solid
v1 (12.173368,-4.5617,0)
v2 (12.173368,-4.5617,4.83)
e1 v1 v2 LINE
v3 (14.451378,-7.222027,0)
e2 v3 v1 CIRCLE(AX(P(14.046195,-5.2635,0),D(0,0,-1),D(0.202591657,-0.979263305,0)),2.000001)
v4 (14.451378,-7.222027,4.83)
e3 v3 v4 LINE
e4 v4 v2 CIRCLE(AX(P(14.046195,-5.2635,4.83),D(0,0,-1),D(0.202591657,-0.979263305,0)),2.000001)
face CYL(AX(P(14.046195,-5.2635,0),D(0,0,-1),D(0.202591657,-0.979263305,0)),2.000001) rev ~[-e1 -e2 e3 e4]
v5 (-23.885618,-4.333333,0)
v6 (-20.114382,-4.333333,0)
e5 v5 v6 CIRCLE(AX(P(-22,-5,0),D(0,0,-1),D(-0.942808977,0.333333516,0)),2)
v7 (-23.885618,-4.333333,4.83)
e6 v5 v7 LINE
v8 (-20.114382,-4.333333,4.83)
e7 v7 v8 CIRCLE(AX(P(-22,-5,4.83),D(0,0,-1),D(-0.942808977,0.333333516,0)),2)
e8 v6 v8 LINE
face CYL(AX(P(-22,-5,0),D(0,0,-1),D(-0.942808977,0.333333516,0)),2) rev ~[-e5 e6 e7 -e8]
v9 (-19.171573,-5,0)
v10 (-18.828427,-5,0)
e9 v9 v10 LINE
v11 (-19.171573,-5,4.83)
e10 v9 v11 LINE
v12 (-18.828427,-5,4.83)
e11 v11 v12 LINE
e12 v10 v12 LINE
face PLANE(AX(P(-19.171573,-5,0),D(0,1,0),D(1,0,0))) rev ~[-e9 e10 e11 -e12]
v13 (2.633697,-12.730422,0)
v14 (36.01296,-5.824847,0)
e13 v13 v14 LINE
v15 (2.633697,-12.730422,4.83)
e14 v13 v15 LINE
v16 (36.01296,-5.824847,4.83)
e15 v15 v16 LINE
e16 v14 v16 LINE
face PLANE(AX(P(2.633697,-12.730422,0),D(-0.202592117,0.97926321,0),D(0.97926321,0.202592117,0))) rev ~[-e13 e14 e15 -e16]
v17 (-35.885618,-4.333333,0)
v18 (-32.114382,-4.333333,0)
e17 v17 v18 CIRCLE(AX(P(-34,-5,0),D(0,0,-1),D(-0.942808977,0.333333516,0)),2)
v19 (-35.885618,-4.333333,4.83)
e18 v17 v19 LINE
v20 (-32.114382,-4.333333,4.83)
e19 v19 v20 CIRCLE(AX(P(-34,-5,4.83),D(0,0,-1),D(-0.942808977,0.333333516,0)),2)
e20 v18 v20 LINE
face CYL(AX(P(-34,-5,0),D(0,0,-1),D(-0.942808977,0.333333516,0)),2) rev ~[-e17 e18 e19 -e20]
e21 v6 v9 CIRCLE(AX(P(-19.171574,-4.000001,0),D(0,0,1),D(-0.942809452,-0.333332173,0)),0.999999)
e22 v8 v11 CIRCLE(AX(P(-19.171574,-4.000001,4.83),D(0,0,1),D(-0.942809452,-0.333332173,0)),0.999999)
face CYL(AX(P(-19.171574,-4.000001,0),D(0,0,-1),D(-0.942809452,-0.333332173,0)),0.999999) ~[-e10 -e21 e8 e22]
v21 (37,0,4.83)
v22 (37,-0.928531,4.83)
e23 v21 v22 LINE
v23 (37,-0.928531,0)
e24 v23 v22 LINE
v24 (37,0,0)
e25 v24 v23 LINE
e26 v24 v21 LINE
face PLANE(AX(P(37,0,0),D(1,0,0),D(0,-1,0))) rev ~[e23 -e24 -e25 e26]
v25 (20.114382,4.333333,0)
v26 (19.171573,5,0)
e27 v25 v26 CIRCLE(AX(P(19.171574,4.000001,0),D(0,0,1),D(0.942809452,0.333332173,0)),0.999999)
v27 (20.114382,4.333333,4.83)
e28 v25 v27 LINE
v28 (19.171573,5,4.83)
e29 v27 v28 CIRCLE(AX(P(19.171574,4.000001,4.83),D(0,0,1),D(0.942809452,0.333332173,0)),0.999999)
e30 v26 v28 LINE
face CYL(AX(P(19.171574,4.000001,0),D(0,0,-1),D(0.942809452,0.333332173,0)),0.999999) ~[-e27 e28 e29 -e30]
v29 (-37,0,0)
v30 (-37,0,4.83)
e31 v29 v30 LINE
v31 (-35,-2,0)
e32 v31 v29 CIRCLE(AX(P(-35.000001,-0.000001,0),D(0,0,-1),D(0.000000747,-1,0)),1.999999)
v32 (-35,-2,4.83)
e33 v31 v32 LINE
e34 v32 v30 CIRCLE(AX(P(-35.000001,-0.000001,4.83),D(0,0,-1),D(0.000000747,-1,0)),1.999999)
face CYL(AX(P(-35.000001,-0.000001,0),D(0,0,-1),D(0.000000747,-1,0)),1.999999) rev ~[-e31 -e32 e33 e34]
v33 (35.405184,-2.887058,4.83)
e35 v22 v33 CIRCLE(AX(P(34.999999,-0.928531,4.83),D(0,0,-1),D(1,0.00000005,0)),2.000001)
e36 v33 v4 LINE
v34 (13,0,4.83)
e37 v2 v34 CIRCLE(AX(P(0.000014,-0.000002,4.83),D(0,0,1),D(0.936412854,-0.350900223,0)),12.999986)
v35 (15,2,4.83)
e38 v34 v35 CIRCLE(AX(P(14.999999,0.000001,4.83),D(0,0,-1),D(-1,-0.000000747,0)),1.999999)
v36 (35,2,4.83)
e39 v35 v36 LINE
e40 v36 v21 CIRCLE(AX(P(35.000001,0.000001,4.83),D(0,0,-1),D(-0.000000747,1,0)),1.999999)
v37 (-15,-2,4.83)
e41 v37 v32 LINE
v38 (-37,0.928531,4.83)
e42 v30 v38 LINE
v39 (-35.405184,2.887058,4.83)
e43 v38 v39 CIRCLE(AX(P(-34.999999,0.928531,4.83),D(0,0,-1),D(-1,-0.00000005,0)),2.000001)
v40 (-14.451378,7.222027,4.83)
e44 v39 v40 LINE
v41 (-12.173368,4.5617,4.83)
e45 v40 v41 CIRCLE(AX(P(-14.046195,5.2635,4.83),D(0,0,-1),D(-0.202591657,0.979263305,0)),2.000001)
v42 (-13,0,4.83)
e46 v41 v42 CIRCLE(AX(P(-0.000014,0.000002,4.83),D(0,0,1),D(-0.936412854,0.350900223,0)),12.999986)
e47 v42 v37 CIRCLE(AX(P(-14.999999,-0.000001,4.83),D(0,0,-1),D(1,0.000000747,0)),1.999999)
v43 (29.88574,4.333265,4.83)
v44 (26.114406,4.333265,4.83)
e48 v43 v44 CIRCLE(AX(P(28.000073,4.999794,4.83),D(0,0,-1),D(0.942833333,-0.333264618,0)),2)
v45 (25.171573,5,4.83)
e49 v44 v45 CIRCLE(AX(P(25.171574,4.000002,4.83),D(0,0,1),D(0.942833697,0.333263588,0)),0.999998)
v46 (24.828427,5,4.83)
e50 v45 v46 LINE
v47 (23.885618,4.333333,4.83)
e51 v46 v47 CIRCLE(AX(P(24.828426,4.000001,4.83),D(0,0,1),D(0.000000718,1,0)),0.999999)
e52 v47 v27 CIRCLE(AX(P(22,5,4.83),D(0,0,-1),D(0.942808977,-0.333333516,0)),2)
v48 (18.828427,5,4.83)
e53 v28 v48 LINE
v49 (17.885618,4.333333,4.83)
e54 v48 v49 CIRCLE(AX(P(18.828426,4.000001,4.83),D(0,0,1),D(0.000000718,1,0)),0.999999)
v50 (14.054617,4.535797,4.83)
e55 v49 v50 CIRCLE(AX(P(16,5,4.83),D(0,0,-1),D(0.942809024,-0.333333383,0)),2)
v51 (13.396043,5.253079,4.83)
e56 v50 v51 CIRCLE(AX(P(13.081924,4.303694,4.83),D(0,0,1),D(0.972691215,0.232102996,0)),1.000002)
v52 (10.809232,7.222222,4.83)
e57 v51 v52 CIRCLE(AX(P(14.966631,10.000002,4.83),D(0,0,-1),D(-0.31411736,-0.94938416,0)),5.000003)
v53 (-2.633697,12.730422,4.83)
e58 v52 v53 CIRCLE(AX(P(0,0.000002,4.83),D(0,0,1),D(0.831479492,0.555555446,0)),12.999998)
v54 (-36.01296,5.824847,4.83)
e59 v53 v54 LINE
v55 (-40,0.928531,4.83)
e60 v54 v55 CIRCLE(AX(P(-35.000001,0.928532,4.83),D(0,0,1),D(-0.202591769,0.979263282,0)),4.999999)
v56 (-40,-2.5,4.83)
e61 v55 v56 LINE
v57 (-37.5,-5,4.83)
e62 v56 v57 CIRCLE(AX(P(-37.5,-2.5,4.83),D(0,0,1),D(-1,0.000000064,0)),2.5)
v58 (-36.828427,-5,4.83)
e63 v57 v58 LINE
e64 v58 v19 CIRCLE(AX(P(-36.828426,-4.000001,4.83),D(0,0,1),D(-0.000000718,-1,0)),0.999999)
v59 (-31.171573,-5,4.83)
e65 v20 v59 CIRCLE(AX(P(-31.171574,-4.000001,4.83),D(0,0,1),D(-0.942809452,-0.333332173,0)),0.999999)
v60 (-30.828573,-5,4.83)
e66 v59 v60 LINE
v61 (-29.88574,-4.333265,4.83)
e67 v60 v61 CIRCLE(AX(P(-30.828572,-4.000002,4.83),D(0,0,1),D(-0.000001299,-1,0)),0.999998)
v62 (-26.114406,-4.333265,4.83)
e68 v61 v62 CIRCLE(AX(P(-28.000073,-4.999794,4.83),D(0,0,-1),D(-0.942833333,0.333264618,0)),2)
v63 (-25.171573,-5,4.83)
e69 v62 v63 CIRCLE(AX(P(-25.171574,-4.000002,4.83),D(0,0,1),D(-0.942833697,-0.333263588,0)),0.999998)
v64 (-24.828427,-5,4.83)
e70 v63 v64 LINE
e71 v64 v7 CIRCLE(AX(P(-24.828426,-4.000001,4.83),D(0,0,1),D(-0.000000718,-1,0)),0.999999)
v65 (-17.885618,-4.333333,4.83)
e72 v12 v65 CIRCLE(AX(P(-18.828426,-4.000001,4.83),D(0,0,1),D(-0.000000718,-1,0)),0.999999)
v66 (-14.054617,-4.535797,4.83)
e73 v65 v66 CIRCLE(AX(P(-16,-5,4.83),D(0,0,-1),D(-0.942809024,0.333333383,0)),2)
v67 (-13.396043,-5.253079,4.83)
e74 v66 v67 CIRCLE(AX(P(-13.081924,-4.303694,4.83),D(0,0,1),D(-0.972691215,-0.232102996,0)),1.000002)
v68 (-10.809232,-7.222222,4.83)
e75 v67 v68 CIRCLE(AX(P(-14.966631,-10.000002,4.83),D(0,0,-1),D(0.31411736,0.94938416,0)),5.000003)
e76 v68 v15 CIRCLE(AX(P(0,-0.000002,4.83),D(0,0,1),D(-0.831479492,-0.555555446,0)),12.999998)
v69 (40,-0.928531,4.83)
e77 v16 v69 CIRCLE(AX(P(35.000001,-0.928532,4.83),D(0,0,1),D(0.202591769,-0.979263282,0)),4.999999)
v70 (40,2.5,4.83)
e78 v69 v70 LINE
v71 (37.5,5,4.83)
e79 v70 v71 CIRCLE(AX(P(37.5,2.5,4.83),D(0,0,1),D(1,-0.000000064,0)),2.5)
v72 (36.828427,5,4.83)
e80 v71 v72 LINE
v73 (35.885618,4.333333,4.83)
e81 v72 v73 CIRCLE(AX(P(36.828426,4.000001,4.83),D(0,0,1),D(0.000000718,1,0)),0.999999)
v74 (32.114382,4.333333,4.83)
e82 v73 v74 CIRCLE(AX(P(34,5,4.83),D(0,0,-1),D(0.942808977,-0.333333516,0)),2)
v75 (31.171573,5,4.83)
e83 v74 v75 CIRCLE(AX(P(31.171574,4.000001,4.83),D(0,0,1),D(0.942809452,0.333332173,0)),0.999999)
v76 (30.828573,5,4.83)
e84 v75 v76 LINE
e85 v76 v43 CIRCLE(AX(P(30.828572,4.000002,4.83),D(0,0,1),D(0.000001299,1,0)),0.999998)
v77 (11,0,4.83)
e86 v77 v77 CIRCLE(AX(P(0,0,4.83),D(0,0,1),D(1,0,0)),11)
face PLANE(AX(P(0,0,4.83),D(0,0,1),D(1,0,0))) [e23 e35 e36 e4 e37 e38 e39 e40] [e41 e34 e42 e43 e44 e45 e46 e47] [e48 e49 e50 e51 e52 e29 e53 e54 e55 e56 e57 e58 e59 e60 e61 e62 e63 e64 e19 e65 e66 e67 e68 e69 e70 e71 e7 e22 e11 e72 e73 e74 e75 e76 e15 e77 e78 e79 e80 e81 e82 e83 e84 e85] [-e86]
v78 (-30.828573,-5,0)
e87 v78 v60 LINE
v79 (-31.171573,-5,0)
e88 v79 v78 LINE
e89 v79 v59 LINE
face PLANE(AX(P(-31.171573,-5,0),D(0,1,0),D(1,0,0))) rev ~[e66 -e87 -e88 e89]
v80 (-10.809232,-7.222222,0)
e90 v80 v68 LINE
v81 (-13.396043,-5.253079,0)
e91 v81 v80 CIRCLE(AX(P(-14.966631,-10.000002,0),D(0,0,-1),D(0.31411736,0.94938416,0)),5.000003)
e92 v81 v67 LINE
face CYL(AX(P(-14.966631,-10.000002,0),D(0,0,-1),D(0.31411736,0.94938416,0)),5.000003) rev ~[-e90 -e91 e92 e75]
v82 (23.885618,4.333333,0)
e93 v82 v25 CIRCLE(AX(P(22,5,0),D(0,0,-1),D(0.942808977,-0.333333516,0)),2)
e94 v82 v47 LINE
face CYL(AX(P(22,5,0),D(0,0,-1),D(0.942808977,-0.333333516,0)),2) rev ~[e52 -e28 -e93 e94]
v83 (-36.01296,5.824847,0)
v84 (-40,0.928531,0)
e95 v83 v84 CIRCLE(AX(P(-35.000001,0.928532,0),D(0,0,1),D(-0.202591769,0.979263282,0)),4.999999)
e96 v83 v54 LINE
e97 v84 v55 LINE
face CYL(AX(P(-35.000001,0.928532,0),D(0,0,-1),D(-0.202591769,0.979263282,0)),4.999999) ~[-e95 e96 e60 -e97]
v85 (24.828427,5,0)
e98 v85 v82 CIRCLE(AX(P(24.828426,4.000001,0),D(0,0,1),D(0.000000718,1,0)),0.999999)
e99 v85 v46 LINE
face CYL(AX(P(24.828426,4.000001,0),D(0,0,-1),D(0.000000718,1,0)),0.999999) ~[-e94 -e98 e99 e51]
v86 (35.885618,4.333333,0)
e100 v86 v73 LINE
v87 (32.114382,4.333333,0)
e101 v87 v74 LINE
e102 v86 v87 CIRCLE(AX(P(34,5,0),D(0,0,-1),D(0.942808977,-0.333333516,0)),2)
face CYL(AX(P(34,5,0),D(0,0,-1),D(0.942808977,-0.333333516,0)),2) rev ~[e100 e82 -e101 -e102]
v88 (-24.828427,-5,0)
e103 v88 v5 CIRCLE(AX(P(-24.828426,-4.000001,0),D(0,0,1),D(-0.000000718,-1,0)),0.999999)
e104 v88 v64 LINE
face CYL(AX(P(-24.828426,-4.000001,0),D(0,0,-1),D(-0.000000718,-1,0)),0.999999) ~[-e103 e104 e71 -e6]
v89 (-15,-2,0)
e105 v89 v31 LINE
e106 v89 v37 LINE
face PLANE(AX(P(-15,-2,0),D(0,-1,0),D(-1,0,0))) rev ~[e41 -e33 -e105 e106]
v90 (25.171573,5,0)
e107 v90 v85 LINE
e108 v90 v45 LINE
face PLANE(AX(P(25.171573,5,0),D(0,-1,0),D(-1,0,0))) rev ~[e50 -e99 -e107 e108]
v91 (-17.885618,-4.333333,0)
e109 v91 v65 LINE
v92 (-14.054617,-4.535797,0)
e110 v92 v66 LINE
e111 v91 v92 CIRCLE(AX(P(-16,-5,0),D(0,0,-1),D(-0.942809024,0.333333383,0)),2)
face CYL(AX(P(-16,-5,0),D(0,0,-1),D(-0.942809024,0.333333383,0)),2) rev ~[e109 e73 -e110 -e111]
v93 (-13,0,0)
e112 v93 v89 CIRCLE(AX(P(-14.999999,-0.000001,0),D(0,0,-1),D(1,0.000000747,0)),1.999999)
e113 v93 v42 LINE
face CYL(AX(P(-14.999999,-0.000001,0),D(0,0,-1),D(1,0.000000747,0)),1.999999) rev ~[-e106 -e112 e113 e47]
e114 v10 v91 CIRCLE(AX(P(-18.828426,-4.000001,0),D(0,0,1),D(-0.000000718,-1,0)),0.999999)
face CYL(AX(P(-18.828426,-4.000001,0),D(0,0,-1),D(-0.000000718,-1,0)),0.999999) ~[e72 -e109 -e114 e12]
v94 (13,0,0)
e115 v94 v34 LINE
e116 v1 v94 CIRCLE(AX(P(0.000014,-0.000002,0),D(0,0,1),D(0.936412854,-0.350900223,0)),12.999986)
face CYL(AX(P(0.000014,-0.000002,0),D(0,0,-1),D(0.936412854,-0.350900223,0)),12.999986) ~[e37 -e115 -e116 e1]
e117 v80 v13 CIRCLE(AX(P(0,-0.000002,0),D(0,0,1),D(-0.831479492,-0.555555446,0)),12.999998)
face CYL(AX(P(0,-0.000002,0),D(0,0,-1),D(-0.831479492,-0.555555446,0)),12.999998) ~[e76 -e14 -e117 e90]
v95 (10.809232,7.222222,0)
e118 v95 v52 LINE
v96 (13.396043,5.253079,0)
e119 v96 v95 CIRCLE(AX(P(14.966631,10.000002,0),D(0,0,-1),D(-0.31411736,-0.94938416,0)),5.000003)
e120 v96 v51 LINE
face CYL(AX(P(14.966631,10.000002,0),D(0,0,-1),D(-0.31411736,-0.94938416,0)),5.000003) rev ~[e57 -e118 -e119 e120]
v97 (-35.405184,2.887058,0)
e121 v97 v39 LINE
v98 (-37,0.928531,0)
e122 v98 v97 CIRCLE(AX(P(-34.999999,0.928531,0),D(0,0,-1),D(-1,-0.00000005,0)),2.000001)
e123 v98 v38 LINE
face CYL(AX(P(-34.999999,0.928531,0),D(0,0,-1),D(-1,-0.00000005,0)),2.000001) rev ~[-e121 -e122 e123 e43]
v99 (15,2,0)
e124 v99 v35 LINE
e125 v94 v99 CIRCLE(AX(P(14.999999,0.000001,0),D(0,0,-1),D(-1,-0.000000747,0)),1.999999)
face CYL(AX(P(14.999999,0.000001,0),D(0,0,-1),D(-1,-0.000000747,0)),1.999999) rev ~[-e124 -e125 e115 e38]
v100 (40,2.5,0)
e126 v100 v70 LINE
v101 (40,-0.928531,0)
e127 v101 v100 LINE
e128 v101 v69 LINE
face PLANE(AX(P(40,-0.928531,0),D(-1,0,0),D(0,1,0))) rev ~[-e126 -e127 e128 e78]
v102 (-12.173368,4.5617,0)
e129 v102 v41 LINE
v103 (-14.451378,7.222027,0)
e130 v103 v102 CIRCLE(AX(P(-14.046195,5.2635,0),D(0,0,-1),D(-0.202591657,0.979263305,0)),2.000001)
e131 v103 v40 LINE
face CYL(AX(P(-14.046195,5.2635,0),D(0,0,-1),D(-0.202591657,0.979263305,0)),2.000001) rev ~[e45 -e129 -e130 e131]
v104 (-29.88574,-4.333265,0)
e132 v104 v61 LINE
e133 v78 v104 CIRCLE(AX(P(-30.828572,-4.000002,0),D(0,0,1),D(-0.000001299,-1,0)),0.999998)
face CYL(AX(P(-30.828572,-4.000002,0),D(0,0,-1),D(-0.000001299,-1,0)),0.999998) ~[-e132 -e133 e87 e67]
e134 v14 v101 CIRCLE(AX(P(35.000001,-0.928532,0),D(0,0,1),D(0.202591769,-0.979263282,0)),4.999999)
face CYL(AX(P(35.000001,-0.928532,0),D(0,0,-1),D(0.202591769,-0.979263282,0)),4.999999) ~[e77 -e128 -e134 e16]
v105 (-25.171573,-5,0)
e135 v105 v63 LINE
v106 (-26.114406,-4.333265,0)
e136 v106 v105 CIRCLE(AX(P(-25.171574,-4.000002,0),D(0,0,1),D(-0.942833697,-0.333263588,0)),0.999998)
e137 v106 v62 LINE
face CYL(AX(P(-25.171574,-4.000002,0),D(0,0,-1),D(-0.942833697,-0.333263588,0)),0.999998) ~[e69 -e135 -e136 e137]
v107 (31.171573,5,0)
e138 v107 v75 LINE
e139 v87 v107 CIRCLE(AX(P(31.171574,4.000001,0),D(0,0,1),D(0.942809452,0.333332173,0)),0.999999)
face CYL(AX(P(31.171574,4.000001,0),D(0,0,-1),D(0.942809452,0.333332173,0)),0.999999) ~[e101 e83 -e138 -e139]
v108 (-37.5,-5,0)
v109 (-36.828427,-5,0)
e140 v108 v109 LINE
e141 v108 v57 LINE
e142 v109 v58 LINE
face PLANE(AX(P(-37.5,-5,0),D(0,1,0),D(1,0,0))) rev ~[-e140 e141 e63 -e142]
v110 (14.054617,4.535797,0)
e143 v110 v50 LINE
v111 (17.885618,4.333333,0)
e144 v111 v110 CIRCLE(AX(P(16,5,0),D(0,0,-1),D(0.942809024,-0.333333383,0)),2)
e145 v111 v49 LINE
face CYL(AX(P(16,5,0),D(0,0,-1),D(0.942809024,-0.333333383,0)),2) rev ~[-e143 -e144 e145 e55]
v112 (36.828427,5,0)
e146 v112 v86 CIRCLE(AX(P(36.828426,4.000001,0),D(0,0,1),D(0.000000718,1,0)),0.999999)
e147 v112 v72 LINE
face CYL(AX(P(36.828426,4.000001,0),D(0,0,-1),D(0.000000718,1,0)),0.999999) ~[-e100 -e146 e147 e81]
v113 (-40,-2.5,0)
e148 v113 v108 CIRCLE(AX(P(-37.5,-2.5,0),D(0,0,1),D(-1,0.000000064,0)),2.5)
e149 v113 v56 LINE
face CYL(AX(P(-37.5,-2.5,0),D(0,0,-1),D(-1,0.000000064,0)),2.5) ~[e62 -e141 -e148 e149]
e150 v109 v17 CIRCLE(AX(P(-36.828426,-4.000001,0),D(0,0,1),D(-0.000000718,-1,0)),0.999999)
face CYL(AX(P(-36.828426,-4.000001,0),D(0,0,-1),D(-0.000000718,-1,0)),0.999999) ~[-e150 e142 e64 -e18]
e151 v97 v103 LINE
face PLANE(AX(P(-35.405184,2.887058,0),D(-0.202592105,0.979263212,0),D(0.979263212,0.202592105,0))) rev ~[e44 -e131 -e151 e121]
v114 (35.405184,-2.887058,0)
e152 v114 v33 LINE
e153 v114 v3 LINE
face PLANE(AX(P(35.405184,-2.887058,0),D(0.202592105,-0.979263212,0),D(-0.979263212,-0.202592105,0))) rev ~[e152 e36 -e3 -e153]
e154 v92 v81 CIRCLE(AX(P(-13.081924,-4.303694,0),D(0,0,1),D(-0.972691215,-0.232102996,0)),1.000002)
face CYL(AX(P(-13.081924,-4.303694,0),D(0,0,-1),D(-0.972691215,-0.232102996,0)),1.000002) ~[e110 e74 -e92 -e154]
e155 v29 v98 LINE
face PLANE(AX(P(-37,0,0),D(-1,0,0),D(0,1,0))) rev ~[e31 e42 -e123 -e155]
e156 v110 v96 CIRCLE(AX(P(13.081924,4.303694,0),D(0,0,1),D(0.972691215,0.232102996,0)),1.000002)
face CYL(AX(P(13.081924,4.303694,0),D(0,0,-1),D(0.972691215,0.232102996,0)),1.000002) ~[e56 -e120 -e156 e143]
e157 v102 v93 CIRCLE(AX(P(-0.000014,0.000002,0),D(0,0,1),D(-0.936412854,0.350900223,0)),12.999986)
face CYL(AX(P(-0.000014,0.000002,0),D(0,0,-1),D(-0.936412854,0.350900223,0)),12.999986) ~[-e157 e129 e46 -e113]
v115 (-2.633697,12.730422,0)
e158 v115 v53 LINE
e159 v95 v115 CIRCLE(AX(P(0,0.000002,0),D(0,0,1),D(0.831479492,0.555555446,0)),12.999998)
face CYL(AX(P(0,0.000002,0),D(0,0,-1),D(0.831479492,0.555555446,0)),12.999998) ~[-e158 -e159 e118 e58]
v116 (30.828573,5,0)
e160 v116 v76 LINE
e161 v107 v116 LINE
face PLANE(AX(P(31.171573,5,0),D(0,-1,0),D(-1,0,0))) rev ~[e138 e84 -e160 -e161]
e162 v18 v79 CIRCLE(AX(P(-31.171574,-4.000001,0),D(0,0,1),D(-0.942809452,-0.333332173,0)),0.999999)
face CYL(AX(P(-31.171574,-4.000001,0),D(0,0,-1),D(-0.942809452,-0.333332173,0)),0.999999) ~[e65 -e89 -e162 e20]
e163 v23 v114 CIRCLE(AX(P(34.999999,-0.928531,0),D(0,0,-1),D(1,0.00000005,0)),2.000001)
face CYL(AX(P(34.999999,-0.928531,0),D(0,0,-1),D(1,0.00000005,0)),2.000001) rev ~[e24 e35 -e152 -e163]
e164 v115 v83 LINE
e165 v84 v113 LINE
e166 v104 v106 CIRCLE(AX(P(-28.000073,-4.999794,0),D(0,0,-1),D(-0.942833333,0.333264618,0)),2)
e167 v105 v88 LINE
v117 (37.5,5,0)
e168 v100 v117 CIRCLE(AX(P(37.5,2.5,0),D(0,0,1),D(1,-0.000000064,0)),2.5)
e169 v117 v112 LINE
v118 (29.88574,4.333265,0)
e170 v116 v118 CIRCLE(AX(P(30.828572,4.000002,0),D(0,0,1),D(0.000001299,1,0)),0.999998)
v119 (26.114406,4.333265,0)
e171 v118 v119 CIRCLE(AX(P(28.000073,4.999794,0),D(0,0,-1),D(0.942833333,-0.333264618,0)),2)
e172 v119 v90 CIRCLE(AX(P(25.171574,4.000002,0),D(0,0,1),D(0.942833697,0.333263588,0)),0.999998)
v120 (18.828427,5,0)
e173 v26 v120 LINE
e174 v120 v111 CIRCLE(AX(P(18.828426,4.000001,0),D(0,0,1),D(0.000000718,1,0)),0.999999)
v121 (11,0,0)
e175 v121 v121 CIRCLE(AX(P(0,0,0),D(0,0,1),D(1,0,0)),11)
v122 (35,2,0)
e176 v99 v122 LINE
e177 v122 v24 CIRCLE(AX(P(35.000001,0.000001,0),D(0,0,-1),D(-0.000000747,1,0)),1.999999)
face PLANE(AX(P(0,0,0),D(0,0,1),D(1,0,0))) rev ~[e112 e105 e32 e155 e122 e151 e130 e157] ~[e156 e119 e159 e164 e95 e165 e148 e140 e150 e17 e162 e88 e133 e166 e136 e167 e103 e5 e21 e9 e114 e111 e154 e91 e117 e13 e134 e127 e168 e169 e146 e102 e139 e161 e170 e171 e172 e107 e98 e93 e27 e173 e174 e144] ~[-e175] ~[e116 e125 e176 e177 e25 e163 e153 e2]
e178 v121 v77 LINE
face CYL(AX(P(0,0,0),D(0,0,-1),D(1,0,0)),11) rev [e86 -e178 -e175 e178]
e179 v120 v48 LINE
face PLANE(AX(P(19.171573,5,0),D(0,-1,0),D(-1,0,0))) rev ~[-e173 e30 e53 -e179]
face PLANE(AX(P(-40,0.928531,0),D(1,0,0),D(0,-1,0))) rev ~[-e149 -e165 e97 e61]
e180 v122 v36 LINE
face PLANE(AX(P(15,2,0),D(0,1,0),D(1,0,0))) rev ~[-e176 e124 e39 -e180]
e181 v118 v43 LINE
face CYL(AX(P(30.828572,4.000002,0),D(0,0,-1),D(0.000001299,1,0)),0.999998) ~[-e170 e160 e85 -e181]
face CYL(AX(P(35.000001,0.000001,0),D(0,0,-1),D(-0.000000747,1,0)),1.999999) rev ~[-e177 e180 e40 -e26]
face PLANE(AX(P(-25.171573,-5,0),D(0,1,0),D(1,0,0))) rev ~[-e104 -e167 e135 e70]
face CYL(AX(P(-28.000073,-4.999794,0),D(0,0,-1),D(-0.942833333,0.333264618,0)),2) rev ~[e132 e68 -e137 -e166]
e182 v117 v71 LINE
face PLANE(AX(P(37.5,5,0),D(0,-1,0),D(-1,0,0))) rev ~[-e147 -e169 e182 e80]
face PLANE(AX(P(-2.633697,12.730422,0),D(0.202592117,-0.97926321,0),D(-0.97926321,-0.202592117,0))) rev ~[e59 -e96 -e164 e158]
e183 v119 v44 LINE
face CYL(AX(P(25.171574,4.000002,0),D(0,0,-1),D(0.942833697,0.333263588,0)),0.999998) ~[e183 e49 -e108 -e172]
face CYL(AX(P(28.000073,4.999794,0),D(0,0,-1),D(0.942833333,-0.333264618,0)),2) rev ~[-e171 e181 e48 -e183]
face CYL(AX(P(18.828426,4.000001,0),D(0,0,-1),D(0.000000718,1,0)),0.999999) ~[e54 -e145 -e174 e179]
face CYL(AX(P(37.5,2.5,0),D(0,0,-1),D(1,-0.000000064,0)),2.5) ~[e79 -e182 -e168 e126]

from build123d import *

# Parameters (mm, degrees)
F0_R     = 11
F1_DEPTH = 4.83


with BuildPart() as f1:
    # F0 (on Top) → F1 (new body)
    with BuildSketch(Plane.XY):
        with BuildLine():
            ThreePointArc((-36.01296, 5.824847), (-38.877164, 4.085682), (-40, 0.928531))
            Line((-40, 0.928531), (-40, -2.5))
            ThreePointArc((-40, -2.5), (-39.267767, -4.267767), (-37.5, -5))
            Line((-37.5, -5), (-36.828427, -5))
            ThreePointArc((-36.828427, -5), (-36.251077, -4.816497), (-35.885618, -4.333333))
            ThreePointArc((-35.885618, -4.333333), (-34, -3), (-32.114382, -4.333333))
            ThreePointArc((-32.114382, -4.333333), (-31.748923, -4.816497), (-31.171573, -5))
            Line((-31.171573, -5), (-30.828573, -5))
            ThreePointArc((-30.828573, -5), (-30.251193, -4.816476), (-29.88574, -4.333265))
            ThreePointArc((-29.88574, -4.333265), (-28.000073, -2.999794), (-26.114406, -4.333265))
            ThreePointArc((-26.114406, -4.333265), (-25.748953, -4.816476), (-25.171573, -5))
            Line((-25.171573, -5), (-24.828427, -5))
            ThreePointArc((-24.828427, -5), (-24.251077, -4.816497), (-23.885618, -4.333333))
            ThreePointArc((-23.885618, -4.333333), (-22, -3), (-20.114382, -4.333333))
            ThreePointArc((-20.114382, -4.333333), (-19.748923, -4.816497), (-19.171573, -5))
            Line((-19.171573, -5), (-18.828427, -5))
            ThreePointArc((-18.828427, -5), (-18.251077, -4.816497), (-17.885618, -4.333333))
            ThreePointArc((-17.885618, -4.333333), (-15.89445, -3.002787), (-14.054617, -4.535797))
            ThreePointArc((-14.054617, -4.535797), (-13.818534, -4.980014), (-13.396043, -5.253079))
            ThreePointArc((-13.396043, -5.253079), (-11.938126, -6.021537), (-10.809232, -7.222222))
            ThreePointArc((-10.809232, -7.222222), (-4.928987, -12.029343), (2.633697, -12.730422))
            Line((2.633697, -12.730422), (36.01296, -5.824847))
            ThreePointArc((36.01296, -5.824847), (38.877164, -4.085682), (40, -0.928531))
            Line((40, -0.928531), (40, 2.5))
            ThreePointArc((40, 2.5), (39.267767, 4.267767), (37.5, 5))
            Line((37.5, 5), (36.828427, 5))
            ThreePointArc((36.828427, 5), (36.251077, 4.816497), (35.885618, 4.333333))
            ThreePointArc((35.885618, 4.333333), (34, 3), (32.114382, 4.333333))
            ThreePointArc((32.114382, 4.333333), (31.748923, 4.816497), (31.171573, 5))
            Line((31.171573, 5), (30.828573, 5))
            ThreePointArc((30.828573, 5), (30.251193, 4.816476), (29.88574, 4.333265))
            ThreePointArc((29.88574, 4.333265), (28.000073, 2.999794), (26.114406, 4.333265))
            ThreePointArc((26.114406, 4.333265), (25.748953, 4.816476), (25.171573, 5))
            Line((25.171573, 5), (24.828427, 5))
            ThreePointArc((24.828427, 5), (24.251077, 4.816497), (23.885618, 4.333333))
            ThreePointArc((23.885618, 4.333333), (22, 3), (20.114382, 4.333333))
            ThreePointArc((20.114382, 4.333333), (19.748923, 4.816497), (19.171573, 5))
            Line((19.171573, 5), (18.828427, 5))
            ThreePointArc((18.828427, 5), (18.251077, 4.816497), (17.885618, 4.333333))
            ThreePointArc((17.885618, 4.333333), (15.89445, 3.002787), (14.054617, 4.535797))
            ThreePointArc((14.054617, 4.535797), (13.818534, 4.980014), (13.396043, 5.253079))
            ThreePointArc((13.396043, 5.253079), (11.938126, 6.021537), (10.809232, 7.222222))
            ThreePointArc((10.809232, 7.222222), (4.928987, 12.029343), (-2.633697, 12.730422))
            Line((-2.633697, 12.730422), (-36.01296, 5.824847))
        make_face()
        with BuildLine():
            ThreePointArc((14.451378, -7.222027), (12.527041, -6.564336), (12.173368, -4.5617))
            ThreePointArc((12.173368, -4.5617), (12.791673, -2.317996), (13, 0))
            ThreePointArc((13, 0), (13.585786, 1.414214), (15, 2))
            Line((15, 2), (35, 2))
            ThreePointArc((35, 2), (36.414214, 1.414214), (37, 0))
            Line((37, 0), (37, -0.928531))
            ThreePointArc((37, -0.928531), (36.550866, -2.191391), (35.405184, -2.887058))
            Line((35.405184, -2.887058), (14.451378, -7.222027))
        make_face(mode=Mode.SUBTRACT)
        with BuildLine():
            ThreePointArc((-14.451378, 7.222027), (-12.527041, 6.564336), (-12.173368, 4.5617))
            ThreePointArc((-12.173368, 4.5617), (-12.791673, 2.317996), (-13, 0))
            ThreePointArc((-13, 0), (-13.585786, -1.414214), (-15, -2))
            Line((-15, -2), (-35, -2))
            ThreePointArc((-35, -2), (-36.414214, -1.414214), (-37, 0))
            Line((-37, 0), (-37, 0.928531))
            ThreePointArc((-37, 0.928531), (-36.550866, 2.191391), (-35.405184, 2.887058))
            Line((-35.405184, 2.887058), (-14.451378, 7.222027))
        make_face(mode=Mode.SUBTRACT)
        Circle(F0_R, mode=Mode.SUBTRACT)
    extrude(amount=F1_DEPTH)


solid = f1.part
